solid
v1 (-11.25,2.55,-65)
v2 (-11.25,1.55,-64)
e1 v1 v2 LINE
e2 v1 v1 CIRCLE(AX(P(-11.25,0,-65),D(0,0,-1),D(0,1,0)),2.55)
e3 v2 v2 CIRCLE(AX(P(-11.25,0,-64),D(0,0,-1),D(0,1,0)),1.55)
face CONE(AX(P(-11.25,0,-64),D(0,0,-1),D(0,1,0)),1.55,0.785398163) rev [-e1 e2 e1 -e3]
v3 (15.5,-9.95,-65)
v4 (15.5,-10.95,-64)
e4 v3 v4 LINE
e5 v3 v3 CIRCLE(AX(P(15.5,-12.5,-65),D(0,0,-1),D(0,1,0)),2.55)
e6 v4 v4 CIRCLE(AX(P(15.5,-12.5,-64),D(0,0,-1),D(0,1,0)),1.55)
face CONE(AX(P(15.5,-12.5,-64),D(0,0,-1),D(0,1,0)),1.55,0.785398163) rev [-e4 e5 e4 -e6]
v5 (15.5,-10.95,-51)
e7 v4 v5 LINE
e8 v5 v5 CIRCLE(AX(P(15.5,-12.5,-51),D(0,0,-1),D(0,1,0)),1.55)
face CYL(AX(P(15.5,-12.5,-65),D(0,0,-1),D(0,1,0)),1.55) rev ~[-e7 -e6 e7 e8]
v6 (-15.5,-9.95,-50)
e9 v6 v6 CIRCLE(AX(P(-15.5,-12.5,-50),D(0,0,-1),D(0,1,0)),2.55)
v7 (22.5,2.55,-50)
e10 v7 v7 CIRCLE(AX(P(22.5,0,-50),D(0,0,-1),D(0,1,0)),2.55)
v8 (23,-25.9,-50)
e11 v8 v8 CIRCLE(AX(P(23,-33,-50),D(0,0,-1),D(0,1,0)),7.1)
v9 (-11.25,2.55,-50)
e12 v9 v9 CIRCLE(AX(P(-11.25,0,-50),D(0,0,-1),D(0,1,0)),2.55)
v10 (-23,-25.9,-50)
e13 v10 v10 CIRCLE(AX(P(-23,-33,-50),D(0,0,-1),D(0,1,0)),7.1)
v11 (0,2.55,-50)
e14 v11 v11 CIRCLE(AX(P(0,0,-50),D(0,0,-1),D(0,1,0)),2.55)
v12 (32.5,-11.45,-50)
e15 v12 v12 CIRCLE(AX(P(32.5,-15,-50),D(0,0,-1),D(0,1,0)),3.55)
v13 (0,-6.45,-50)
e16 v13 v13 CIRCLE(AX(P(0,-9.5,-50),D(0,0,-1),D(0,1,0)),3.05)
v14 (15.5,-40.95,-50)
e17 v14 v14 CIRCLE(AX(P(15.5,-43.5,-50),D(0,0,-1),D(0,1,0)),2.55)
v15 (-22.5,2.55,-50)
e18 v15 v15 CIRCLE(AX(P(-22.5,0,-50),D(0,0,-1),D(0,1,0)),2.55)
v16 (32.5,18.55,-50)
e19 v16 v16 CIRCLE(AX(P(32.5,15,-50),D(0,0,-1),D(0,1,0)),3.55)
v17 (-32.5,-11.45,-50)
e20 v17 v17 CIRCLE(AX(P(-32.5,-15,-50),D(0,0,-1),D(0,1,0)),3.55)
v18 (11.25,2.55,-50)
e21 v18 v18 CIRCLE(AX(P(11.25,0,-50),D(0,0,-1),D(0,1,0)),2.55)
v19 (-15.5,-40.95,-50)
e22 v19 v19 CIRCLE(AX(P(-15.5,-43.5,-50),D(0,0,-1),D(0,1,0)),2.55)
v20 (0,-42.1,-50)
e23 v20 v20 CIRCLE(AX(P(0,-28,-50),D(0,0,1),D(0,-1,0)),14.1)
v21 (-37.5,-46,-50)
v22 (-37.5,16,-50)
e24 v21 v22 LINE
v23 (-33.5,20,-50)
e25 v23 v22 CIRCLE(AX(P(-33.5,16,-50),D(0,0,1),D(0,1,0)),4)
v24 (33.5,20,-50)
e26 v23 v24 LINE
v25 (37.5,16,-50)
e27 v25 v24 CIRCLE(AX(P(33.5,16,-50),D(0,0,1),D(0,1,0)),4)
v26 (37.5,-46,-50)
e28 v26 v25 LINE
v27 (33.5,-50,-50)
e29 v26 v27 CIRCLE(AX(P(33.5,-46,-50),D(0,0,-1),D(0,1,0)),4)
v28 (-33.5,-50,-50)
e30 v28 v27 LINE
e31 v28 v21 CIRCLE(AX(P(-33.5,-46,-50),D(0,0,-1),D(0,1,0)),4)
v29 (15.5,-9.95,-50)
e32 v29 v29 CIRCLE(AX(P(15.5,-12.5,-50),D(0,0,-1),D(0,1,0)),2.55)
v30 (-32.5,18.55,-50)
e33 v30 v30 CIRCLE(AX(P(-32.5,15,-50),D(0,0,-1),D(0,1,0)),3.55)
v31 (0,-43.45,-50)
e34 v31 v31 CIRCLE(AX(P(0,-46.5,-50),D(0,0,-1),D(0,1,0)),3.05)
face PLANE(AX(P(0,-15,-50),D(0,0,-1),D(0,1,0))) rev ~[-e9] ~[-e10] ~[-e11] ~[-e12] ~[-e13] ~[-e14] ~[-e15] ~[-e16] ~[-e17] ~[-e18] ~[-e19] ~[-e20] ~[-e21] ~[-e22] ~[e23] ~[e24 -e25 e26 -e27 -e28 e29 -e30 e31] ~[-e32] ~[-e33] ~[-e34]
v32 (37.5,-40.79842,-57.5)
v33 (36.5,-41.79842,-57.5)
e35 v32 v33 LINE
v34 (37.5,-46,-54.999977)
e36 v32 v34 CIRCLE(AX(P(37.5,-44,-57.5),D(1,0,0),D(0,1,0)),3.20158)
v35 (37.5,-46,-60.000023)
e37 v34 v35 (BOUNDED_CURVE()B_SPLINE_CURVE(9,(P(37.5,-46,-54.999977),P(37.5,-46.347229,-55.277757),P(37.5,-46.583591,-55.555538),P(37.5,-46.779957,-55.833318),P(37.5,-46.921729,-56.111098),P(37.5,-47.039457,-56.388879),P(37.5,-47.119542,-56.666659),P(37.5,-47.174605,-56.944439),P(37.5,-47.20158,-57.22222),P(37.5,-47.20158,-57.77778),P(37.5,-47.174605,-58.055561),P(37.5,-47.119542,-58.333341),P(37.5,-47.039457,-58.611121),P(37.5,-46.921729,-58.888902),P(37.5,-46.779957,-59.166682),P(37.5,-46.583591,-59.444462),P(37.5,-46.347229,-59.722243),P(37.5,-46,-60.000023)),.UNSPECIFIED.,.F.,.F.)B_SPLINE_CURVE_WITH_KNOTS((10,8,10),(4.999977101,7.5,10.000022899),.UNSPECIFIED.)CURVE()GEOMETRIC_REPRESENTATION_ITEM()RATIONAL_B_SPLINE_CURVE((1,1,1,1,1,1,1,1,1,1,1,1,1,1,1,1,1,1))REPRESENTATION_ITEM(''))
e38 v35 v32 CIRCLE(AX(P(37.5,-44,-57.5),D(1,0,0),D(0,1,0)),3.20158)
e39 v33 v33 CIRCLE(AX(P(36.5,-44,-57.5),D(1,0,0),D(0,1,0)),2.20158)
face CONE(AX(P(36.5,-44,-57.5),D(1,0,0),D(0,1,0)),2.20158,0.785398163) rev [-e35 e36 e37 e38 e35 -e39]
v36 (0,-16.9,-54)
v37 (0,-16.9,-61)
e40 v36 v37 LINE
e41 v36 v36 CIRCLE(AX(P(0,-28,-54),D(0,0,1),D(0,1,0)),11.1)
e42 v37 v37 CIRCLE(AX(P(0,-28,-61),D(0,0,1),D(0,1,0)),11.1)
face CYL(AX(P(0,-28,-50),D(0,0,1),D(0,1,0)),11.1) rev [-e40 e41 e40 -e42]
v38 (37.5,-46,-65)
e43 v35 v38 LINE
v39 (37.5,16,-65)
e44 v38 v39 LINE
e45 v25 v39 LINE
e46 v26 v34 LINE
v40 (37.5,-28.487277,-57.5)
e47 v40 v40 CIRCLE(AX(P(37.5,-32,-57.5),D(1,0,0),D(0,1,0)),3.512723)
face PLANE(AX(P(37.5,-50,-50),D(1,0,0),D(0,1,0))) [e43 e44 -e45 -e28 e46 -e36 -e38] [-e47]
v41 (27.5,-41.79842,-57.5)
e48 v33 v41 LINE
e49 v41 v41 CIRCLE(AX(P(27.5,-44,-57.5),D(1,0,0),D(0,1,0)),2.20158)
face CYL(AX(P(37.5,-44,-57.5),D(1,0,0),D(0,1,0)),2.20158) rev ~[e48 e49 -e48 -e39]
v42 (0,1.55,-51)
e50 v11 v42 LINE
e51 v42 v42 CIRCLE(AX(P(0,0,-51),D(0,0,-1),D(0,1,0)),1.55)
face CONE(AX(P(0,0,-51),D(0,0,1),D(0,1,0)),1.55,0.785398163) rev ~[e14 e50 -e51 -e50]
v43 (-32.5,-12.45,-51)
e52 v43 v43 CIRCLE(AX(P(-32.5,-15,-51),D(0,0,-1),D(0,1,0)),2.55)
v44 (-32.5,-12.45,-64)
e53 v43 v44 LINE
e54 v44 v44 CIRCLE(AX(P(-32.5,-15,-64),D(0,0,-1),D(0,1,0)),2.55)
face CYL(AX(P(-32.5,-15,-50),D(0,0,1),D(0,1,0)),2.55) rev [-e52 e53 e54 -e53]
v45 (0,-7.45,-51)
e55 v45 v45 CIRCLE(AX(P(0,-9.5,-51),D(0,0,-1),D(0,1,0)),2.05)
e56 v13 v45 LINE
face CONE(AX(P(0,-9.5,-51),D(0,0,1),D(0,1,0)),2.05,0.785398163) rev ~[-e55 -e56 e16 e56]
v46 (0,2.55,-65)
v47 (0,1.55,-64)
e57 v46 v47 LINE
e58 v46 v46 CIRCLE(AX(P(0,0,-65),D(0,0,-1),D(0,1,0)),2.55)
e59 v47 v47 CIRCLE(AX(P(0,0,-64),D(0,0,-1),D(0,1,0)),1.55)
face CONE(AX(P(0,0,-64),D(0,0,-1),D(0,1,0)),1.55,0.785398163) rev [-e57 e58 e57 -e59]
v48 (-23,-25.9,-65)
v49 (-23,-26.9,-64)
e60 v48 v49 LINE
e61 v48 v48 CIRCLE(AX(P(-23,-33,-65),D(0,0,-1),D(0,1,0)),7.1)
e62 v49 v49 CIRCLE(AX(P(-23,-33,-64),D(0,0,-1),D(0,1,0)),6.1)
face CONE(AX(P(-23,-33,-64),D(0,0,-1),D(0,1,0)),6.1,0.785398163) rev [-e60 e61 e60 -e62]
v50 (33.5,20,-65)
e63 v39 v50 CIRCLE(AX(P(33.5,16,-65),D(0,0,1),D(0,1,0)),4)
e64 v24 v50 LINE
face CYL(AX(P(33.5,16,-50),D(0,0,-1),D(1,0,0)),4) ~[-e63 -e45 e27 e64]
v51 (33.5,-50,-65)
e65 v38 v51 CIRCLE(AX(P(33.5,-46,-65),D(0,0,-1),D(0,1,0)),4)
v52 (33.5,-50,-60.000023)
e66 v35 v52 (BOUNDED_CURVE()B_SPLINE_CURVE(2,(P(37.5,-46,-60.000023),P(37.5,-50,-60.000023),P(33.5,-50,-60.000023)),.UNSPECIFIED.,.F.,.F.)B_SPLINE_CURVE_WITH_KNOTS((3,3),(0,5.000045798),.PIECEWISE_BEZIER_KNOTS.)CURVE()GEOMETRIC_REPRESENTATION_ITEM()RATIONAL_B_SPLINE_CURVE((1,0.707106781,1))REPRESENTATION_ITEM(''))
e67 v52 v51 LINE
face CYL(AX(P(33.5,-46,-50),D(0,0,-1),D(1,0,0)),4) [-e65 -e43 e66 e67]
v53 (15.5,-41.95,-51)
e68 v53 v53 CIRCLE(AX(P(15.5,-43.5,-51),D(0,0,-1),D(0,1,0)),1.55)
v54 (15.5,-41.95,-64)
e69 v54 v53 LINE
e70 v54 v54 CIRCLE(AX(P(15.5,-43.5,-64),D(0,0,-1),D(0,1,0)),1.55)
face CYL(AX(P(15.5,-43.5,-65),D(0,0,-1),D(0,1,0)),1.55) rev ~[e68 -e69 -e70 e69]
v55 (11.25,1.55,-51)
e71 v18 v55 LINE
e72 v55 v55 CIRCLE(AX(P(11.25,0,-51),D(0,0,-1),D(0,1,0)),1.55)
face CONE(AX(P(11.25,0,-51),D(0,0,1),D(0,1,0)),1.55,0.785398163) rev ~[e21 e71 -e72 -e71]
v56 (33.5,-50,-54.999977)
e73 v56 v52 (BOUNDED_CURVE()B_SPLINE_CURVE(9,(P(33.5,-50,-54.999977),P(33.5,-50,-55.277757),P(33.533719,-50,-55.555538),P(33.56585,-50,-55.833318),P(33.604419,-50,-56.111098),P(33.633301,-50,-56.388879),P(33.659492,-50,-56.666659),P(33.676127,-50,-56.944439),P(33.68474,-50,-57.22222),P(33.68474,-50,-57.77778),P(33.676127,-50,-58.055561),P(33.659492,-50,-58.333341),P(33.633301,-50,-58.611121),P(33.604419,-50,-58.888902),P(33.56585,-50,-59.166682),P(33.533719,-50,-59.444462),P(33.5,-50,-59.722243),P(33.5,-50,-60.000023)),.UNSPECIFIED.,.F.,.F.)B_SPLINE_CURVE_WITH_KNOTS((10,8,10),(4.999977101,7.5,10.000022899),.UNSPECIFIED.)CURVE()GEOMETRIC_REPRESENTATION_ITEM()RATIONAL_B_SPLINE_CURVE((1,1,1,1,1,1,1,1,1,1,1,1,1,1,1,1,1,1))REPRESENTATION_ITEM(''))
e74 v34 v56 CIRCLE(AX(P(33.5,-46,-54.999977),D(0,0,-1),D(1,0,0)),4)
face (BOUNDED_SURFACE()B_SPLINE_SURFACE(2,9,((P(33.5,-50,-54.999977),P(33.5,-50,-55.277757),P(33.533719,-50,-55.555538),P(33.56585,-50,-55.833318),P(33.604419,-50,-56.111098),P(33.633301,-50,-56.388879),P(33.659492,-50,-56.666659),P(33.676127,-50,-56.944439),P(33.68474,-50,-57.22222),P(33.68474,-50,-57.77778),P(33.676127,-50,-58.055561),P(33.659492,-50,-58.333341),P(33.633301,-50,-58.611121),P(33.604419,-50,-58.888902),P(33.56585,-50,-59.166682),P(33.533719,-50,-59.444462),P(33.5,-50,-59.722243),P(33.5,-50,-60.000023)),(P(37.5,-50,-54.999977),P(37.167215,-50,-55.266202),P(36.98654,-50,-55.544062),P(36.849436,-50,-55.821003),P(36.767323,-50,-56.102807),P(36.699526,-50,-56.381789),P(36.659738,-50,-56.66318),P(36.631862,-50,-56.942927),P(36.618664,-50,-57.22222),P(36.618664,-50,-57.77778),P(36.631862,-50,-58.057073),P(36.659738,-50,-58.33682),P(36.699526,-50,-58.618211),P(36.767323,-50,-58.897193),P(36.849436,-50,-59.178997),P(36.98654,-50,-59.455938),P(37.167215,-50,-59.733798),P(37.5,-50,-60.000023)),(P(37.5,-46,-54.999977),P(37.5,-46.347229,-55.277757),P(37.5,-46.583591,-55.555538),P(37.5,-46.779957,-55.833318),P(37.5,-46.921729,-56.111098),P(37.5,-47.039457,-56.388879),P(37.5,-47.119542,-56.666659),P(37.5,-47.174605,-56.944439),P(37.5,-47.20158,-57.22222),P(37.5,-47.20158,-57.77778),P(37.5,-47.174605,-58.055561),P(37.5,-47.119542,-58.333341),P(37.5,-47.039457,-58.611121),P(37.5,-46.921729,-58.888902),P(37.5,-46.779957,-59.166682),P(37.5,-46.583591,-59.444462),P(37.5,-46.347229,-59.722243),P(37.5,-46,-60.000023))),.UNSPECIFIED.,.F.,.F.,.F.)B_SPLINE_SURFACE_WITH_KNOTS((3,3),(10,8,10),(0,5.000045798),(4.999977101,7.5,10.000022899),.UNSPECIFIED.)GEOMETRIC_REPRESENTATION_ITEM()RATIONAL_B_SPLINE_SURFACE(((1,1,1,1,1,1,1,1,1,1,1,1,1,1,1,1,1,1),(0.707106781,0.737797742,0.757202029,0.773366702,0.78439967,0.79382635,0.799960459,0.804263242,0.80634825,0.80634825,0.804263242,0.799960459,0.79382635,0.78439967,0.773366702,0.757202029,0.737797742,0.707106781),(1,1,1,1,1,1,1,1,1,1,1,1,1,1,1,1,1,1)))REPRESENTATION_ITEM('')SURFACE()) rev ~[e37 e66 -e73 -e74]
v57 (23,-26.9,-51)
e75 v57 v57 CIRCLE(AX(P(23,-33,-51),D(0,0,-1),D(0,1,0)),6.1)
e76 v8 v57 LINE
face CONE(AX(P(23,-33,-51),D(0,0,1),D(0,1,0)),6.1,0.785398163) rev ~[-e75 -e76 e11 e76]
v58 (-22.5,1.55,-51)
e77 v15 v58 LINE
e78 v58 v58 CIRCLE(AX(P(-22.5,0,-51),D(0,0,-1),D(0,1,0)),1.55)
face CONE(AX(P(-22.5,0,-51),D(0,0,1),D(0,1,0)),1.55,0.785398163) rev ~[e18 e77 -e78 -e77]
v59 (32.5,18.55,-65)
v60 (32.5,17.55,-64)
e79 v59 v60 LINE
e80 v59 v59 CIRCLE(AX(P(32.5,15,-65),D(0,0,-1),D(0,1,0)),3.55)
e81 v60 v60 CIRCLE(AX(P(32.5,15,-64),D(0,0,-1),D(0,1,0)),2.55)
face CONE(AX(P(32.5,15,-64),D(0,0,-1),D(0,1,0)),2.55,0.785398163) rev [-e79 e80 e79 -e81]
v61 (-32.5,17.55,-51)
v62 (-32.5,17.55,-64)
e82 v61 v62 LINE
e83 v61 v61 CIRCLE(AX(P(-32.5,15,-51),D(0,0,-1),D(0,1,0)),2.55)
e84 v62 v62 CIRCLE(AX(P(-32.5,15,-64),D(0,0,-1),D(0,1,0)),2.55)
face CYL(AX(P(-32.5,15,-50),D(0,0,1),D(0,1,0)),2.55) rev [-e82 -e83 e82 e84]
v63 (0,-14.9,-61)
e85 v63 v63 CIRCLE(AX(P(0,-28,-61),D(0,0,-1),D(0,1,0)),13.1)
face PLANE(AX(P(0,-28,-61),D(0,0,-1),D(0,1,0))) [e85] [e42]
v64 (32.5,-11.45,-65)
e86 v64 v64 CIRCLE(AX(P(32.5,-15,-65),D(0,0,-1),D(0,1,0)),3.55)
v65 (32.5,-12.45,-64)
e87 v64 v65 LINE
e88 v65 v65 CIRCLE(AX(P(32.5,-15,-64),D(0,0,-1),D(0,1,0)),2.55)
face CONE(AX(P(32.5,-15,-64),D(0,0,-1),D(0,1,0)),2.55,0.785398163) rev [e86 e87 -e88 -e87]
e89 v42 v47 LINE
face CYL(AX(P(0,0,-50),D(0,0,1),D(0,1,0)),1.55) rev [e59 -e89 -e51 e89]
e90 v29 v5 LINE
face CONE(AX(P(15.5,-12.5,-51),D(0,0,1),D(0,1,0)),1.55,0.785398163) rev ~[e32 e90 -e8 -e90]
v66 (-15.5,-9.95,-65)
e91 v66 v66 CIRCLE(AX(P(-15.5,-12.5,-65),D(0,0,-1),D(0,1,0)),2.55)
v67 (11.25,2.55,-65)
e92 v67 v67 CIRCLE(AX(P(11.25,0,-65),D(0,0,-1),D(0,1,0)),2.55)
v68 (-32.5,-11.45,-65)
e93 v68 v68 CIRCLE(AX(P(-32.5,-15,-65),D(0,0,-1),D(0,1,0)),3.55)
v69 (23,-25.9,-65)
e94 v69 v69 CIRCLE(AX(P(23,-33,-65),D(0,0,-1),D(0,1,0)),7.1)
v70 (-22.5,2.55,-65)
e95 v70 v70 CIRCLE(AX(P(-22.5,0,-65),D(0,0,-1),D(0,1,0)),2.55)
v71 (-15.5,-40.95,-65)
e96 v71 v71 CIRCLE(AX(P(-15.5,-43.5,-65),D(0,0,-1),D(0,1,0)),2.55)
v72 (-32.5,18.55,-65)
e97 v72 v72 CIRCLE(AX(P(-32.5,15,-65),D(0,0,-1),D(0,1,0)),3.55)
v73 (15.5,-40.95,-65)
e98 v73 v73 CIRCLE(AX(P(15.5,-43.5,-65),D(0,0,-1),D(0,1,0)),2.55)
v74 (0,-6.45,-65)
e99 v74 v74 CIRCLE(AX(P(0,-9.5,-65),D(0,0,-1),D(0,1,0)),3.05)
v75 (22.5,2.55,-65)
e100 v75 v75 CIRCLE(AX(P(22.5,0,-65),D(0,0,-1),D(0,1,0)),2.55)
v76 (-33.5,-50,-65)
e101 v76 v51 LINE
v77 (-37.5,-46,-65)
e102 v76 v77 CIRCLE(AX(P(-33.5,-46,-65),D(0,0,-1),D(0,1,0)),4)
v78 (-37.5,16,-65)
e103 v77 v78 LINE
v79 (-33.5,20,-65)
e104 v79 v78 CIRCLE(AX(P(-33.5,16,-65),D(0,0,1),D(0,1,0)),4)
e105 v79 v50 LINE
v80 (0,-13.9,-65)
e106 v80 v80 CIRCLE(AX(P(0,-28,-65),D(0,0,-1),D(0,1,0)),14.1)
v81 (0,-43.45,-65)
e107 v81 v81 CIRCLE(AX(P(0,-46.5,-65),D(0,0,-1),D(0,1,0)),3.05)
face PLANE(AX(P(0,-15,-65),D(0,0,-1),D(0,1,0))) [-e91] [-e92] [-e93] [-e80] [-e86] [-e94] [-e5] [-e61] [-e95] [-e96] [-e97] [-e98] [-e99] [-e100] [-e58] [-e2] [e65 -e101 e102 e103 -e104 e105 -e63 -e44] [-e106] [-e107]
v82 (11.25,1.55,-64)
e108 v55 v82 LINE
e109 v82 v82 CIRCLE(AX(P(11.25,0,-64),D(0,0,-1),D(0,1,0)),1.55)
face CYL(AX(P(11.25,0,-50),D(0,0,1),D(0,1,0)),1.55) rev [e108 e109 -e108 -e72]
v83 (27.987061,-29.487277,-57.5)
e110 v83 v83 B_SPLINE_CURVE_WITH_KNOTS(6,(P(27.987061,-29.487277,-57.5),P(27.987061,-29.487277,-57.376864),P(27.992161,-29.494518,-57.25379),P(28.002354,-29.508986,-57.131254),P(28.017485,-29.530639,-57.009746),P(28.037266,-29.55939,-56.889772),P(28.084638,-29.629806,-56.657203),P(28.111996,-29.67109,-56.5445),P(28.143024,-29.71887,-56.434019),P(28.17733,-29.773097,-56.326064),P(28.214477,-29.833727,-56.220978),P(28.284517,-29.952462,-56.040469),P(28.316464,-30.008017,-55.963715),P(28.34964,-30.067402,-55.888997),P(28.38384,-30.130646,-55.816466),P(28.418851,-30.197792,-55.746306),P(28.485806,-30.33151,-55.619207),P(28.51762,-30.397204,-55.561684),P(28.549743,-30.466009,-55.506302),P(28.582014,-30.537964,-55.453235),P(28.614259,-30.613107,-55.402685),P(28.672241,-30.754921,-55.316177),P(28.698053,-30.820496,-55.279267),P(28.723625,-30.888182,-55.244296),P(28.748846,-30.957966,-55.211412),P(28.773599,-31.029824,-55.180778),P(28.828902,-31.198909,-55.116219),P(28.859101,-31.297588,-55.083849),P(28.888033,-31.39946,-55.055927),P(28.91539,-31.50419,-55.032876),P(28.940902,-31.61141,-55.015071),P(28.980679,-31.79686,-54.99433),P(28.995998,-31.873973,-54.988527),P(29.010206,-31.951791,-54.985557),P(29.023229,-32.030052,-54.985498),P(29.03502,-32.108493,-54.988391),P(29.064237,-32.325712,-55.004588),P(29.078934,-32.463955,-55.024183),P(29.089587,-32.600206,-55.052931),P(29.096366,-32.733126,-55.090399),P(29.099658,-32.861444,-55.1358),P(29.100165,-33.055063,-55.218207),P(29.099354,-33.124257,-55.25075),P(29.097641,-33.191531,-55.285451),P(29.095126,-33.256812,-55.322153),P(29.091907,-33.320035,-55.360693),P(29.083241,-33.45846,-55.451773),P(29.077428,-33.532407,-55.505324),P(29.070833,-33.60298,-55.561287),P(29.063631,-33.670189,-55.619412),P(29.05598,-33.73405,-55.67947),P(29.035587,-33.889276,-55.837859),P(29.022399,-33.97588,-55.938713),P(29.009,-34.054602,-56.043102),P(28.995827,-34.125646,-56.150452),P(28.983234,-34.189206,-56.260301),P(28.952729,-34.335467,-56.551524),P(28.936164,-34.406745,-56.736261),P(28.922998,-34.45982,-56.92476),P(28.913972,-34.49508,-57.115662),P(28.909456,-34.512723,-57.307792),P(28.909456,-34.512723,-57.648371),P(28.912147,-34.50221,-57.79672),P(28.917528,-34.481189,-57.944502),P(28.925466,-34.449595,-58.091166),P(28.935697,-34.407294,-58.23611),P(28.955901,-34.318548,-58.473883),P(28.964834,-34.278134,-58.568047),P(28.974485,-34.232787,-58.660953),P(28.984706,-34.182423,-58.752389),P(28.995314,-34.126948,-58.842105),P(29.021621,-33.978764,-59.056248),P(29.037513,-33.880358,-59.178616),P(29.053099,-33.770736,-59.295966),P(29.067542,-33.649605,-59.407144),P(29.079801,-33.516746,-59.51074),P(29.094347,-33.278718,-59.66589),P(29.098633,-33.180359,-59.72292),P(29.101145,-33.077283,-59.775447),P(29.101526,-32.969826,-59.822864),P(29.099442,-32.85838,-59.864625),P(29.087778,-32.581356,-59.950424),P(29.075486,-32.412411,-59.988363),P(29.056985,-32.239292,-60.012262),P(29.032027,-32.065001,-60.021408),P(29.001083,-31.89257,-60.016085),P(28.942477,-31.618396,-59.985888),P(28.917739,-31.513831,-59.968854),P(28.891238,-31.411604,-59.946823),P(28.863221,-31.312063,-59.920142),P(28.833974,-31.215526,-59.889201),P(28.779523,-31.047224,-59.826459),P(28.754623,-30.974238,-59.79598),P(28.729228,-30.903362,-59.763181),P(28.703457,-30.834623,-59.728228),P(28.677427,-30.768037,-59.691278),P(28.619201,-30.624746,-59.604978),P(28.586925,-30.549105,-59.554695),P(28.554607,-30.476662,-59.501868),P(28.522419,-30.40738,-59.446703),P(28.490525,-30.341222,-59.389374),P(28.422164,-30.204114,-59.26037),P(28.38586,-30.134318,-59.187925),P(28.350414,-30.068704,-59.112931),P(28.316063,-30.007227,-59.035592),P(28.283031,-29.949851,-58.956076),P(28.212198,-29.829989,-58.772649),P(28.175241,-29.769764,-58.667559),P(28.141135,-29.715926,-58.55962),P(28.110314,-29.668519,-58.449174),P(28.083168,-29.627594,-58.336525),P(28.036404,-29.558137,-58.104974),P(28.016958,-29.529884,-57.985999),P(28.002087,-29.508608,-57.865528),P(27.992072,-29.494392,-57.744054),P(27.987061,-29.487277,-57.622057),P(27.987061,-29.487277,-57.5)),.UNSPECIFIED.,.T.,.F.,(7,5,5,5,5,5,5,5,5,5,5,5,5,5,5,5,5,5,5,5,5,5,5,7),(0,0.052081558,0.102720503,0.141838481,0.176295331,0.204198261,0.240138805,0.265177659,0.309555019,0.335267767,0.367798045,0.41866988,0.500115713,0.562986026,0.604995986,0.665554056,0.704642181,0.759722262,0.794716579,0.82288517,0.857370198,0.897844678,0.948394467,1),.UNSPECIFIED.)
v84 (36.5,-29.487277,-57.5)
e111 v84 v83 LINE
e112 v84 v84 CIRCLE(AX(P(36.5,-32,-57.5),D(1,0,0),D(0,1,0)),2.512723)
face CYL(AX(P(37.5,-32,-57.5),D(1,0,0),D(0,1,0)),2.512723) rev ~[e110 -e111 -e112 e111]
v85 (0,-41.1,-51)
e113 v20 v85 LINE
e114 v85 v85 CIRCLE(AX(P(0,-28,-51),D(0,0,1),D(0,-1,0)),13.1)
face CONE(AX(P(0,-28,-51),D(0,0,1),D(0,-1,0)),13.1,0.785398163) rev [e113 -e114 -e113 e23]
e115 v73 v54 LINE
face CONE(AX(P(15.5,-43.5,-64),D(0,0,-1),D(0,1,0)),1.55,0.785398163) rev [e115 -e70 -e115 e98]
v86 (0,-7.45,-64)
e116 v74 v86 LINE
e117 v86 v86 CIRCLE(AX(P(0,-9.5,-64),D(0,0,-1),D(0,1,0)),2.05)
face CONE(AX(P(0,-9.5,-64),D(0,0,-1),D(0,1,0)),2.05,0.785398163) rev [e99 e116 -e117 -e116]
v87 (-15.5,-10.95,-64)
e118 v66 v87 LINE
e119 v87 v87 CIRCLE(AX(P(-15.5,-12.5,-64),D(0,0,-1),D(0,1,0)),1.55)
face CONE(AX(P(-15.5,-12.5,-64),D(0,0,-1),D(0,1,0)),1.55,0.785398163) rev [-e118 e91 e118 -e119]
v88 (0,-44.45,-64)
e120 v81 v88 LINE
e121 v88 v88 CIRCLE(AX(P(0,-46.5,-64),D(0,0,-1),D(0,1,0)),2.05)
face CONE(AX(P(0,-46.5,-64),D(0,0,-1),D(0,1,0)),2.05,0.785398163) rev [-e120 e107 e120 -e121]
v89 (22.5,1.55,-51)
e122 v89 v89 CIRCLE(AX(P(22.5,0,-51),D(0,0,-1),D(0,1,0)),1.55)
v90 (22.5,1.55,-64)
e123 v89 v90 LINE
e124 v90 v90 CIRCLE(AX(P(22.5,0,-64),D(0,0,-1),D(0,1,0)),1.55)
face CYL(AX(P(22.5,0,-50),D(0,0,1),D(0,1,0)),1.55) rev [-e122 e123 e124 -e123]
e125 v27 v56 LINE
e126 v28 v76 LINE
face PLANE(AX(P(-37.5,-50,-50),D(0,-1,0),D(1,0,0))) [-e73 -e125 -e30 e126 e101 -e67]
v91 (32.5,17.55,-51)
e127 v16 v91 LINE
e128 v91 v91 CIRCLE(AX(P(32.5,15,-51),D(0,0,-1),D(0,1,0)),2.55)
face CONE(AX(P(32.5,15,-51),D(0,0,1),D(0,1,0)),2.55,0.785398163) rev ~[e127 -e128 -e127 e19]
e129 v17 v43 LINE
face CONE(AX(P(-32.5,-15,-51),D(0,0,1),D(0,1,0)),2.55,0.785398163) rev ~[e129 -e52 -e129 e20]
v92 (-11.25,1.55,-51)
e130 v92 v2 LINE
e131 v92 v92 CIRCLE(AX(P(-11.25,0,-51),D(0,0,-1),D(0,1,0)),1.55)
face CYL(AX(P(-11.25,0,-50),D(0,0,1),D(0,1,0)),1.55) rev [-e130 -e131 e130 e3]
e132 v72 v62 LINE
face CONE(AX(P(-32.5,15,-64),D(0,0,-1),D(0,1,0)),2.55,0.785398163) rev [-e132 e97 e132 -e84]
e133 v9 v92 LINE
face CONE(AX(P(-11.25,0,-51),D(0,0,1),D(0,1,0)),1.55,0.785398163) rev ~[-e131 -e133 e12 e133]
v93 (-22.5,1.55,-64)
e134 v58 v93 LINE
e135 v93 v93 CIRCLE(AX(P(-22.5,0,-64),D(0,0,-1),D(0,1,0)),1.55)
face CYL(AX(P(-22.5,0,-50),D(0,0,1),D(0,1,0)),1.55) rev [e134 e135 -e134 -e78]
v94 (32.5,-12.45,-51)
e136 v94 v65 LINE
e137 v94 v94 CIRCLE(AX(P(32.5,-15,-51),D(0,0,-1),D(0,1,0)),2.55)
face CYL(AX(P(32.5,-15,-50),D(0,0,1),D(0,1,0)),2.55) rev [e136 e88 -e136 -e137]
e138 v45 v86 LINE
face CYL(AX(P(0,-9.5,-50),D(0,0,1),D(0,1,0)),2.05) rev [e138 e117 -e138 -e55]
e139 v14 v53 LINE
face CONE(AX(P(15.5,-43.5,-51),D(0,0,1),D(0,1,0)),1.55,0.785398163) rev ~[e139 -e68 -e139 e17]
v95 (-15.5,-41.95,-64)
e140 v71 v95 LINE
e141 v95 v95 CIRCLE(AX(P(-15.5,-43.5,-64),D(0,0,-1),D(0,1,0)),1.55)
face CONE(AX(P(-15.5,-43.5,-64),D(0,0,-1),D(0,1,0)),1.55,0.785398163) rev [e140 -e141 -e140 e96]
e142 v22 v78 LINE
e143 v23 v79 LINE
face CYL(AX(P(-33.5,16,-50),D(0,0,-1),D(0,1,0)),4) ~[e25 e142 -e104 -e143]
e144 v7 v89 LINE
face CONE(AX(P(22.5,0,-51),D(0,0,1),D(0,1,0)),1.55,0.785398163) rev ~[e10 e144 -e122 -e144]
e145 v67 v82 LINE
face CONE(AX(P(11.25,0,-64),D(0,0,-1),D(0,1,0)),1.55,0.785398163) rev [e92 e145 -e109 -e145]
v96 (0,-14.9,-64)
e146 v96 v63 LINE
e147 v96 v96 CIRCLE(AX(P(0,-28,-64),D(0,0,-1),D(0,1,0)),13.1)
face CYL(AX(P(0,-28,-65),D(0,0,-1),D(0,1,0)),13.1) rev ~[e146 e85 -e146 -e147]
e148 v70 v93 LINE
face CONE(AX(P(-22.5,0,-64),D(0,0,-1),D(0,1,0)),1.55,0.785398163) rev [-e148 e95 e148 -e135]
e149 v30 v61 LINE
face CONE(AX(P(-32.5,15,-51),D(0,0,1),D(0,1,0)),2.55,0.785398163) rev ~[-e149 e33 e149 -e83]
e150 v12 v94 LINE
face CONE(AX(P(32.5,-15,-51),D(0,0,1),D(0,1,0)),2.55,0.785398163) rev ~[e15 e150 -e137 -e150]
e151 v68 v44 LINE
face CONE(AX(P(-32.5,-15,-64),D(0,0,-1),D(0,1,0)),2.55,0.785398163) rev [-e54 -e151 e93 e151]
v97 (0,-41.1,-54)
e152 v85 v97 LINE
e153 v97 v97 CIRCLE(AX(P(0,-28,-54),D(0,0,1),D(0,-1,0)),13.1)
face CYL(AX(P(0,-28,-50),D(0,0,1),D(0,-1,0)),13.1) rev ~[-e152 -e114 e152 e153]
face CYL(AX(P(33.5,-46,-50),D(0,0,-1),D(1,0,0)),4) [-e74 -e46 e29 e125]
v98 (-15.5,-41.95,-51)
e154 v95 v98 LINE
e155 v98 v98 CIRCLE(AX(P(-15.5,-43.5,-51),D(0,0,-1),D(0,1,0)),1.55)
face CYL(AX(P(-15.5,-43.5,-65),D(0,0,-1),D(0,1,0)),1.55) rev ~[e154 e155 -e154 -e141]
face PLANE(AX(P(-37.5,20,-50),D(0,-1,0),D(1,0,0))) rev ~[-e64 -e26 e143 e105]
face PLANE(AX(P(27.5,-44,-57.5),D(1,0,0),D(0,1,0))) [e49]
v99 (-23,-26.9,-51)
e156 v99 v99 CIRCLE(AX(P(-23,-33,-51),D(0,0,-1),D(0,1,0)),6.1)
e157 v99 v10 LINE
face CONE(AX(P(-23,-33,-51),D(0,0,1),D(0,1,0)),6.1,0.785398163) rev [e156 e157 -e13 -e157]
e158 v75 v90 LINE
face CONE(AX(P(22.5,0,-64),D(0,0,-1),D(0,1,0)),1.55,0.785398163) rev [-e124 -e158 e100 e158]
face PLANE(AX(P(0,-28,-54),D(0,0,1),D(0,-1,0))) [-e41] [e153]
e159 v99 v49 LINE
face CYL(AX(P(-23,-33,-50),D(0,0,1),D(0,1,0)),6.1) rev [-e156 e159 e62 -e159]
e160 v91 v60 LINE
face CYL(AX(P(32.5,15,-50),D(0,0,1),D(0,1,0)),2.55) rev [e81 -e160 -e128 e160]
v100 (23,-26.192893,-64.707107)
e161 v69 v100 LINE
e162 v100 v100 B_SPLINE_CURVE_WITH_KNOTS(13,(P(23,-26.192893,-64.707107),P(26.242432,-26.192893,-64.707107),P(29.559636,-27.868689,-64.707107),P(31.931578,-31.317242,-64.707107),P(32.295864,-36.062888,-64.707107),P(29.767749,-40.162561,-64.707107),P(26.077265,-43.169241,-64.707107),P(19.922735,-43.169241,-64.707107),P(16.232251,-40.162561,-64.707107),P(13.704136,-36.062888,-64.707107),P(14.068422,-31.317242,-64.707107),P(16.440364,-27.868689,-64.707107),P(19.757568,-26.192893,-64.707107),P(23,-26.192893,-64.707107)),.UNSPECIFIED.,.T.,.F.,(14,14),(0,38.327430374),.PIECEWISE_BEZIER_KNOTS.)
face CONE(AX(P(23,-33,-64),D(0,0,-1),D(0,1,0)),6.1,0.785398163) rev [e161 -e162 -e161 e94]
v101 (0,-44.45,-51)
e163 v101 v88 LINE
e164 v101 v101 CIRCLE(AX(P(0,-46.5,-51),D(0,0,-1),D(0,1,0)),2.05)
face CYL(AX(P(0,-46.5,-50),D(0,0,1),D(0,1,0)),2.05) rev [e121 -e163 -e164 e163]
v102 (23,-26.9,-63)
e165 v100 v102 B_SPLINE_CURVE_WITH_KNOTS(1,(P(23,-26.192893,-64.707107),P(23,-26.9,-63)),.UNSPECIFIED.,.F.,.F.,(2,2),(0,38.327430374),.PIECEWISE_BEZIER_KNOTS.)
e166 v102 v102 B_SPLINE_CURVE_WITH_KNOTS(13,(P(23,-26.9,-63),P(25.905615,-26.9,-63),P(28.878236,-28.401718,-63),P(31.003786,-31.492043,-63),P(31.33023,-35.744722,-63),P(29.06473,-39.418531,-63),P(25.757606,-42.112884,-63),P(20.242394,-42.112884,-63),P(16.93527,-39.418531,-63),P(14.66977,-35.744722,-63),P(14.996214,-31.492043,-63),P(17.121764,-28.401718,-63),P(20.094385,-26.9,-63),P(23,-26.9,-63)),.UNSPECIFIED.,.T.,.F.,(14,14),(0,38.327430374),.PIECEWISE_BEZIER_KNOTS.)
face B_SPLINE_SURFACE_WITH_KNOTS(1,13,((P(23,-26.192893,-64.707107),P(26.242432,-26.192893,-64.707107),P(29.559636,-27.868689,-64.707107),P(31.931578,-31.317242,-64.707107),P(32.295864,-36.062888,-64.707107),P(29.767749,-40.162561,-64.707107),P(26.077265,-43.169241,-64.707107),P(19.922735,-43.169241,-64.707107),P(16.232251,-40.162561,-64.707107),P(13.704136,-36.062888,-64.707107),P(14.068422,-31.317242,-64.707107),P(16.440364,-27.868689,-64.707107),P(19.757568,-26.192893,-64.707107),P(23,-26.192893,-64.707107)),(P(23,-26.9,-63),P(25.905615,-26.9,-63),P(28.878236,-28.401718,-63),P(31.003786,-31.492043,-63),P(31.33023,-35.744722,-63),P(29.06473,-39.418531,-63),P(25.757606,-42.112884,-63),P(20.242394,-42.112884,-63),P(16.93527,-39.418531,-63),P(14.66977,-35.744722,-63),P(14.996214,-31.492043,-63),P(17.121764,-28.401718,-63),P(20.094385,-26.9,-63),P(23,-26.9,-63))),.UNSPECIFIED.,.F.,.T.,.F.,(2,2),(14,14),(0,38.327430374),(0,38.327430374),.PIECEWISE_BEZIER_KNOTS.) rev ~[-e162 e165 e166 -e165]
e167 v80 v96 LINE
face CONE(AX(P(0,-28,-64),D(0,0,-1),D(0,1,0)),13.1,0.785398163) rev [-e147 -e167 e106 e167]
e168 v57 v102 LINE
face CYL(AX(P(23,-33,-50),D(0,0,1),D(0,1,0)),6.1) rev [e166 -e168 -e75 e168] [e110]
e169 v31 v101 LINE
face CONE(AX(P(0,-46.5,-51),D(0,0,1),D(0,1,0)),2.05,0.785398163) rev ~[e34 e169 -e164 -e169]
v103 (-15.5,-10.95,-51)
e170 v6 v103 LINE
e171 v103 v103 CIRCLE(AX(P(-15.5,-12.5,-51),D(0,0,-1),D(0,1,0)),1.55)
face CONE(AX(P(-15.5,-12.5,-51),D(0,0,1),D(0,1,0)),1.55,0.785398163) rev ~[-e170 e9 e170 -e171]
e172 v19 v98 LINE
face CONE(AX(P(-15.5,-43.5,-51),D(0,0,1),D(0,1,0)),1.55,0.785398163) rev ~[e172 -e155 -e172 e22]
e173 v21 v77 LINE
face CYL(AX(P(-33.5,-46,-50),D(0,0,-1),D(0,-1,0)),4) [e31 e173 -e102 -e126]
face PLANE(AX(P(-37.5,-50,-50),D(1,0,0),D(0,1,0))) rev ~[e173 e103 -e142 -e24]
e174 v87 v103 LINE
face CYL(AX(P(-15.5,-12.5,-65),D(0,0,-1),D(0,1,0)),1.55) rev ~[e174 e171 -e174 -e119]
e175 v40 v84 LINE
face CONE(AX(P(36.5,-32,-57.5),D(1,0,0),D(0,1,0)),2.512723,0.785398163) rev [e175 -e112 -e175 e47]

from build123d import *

# Parameters (mm, degrees)
SKETCH007_W     = 70
SKETCH007_H     = 75
SKETCH007_R     = 6.1
SKETCH007_R_2   = 11.1
SKETCH007_R_3   = 2.05
SKETCH007_R_4   = 1.55
SKETCH007_R_5   = 2.55
PAD002_DEPTH    = 15
SKETCH008_R     = 13.1
POCKET004_DEPTH = 4
SKETCH009_R     = 13.1
POCKET005_DEPTH = 4
SKETCH010_R     = 2.20158
SKETCH010_R_2   = 2.512723
POCKET006_DEPTH = 10
SKETCH011_R     = 1.55
POCKET007_DEPTH = 15.001
CHAMFER003_SIZE = 1
CHAMFER004_SIZE = 1
CHAMFER005_SIZE = 1
FILLET_R        = 4


with BuildPart() as part:
    # Sketch007 (on Face1 of CopyChamfer002001) → Pad002 (new body)
    with BuildSketch(Plane.YX.offset(50)):
        with Locations((-15, 0)):
            Rectangle(SKETCH007_W, SKETCH007_H)
        with Locations((-33, 23)):
            Circle(SKETCH007_R, mode=Mode.SUBTRACT)
        with Locations((-33, -23)):
            Circle(SKETCH007_R, mode=Mode.SUBTRACT)
        with Locations((-28, 0)):
            Circle(SKETCH007_R_2, mode=Mode.SUBTRACT)
        with Locations((-46.5, 0)):
            Circle(SKETCH007_R_3, mode=Mode.SUBTRACT)
        with Locations((-9.5, 0)):
            Circle(SKETCH007_R_3, mode=Mode.SUBTRACT)
        with Locations((0, 22.5)):
            Circle(SKETCH007_R_4, mode=Mode.SUBTRACT)
        with Locations((0, 11.25)):
            Circle(SKETCH007_R_4, mode=Mode.SUBTRACT)
        Circle(SKETCH007_R_4, mode=Mode.SUBTRACT)
        with Locations((0, -11.25)):
            Circle(SKETCH007_R_4, mode=Mode.SUBTRACT)
        with Locations((0, -22.5)):
            Circle(SKETCH007_R_4, mode=Mode.SUBTRACT)
        with Locations((-15, 32.5)):
            Circle(SKETCH007_R_5, mode=Mode.SUBTRACT)
        with Locations((-15, -32.5)):
            Circle(SKETCH007_R_5, mode=Mode.SUBTRACT)
        with Locations((15, -32.5)):
            Circle(SKETCH007_R_5, mode=Mode.SUBTRACT)
        with Locations((15, 32.5)):
            Circle(SKETCH007_R_5, mode=Mode.SUBTRACT)
    extrude(amount=PAD002_DEPTH)

    # Sketch008 (on Face20 of Pad002) → Pocket004 (cut)
    with BuildSketch(Plane.YX.offset(65)):
        with Locations((-28, 0)):
            Circle(SKETCH008_R)
    extrude(amount=-POCKET004_DEPTH, mode=Mode.SUBTRACT)

    # Sketch009 (on Face4 of Pocket004) → Pocket005 (cut)
    with BuildSketch(Plane(origin=(0, 0, -50), x_dir=(0, -1, 0), z_dir=(0, 0, 1))):
        with Locations((28, 0)):
            Circle(SKETCH009_R)
    extrude(amount=-POCKET005_DEPTH, mode=Mode.SUBTRACT)

    # Sketch010 (on Face1 of Pocket005) → Pocket006 (cut)
    with BuildSketch(Plane.YZ.offset(37.5)):
        with Locations((-44, -57.5)):
            Circle(SKETCH010_R)
        with Locations((-32, -57.5)):
            Circle(SKETCH010_R_2)
    extrude(amount=-POCKET006_DEPTH, mode=Mode.SUBTRACT)

    # Sketch011 (on Face4 of Pocket006) → Pocket007 (cut, through all)
    with BuildSketch(Plane.YX.offset(65)):
        with Locations((-12.5, -15.5)):
            Circle(SKETCH011_R)
        with Locations((-12.5, 15.5)):
            Circle(SKETCH011_R)
        with Locations((-43.5, 15.5)):
            Circle(SKETCH011_R)
        with Locations((-43.5, -15.5)):
            Circle(SKETCH011_R)
    extrude(amount=-POCKET007_DEPTH, mode=Mode.SUBTRACT)

    # Chamfer003
    chamfer003_edges = [part.edges().sort_by_distance(p)[0] for p in [
        (-23, -39.1, -65),
        (23, -39.1, -65),
        (0, -41.1, -65),
        (32.5, -17.55, -65),
        (-32.5, -17.55, -65),
        (-32.5, 12.45, -65),
        (32.5, 12.45, -65),
        (22.5, -1.55, -65),
        (11.25, -1.55, -65),
        (0, -1.55, -65),
        (-11.25, -1.55, -65),
        (-22.5, -1.55, -65),
        (-15.5, -14.05, -65),
        (15.5, -14.05, -65),
        (15.5, -45.05, -65),
        (0, -48.55, -65),
        (-15.5, -45.05, -65),
        (0, -11.55, -65),
    ]]
    chamfer(chamfer003_edges, length=CHAMFER003_SIZE)

    # Chamfer004
    chamfer004_edges = [part.edges().sort_by_distance(p)[0] for p in [
        (-23, -39.1, -50),
        (-15.5, -45.05, -50),
        (0, -48.55, -50),
        (15.5, -45.05, -50),
        (23, -39.1, -50),
        (0, -14.9, -50),
        (32.5, -17.55, -50),
        (15.5, -14.05, -50),
        (23, -39.1, -64),
        (0, -1.55, -50),
        (-22.5, -1.55, -50),
        (-11.25, -1.55, -50),
        (-15.5, -14.05, -50),
        (0, -11.55, -50),
        (11.25, -1.55, -50),
        (22.5, -1.55, -50),
        (32.5, 12.45, -50),
        (-32.5, -17.55, -50),
        (-32.5, 12.45, -50),
    ]]
    chamfer(chamfer004_edges, length=CHAMFER004_SIZE)

    # Chamfer005
    chamfer005_edges = [part.edges().sort_by_distance(p)[0] for p in [
        (37.5, -34.512723, -57.5),
        (37.5, -46.20158, -57.5),
    ]]
    chamfer(chamfer005_edges, length=CHAMFER005_SIZE)

    # Fillet
    fillet_edges = [part.edges().sort_by_distance(p)[0] for p in [
        (37.5, 20, -57.5),
        (37.5, -50, -57.5),
        (-37.5, 20, -57.5),
        (-37.5, -50, -57.5),
    ]]
    fillet(fillet_edges, radius=FILLET_R)


solid = part.part
